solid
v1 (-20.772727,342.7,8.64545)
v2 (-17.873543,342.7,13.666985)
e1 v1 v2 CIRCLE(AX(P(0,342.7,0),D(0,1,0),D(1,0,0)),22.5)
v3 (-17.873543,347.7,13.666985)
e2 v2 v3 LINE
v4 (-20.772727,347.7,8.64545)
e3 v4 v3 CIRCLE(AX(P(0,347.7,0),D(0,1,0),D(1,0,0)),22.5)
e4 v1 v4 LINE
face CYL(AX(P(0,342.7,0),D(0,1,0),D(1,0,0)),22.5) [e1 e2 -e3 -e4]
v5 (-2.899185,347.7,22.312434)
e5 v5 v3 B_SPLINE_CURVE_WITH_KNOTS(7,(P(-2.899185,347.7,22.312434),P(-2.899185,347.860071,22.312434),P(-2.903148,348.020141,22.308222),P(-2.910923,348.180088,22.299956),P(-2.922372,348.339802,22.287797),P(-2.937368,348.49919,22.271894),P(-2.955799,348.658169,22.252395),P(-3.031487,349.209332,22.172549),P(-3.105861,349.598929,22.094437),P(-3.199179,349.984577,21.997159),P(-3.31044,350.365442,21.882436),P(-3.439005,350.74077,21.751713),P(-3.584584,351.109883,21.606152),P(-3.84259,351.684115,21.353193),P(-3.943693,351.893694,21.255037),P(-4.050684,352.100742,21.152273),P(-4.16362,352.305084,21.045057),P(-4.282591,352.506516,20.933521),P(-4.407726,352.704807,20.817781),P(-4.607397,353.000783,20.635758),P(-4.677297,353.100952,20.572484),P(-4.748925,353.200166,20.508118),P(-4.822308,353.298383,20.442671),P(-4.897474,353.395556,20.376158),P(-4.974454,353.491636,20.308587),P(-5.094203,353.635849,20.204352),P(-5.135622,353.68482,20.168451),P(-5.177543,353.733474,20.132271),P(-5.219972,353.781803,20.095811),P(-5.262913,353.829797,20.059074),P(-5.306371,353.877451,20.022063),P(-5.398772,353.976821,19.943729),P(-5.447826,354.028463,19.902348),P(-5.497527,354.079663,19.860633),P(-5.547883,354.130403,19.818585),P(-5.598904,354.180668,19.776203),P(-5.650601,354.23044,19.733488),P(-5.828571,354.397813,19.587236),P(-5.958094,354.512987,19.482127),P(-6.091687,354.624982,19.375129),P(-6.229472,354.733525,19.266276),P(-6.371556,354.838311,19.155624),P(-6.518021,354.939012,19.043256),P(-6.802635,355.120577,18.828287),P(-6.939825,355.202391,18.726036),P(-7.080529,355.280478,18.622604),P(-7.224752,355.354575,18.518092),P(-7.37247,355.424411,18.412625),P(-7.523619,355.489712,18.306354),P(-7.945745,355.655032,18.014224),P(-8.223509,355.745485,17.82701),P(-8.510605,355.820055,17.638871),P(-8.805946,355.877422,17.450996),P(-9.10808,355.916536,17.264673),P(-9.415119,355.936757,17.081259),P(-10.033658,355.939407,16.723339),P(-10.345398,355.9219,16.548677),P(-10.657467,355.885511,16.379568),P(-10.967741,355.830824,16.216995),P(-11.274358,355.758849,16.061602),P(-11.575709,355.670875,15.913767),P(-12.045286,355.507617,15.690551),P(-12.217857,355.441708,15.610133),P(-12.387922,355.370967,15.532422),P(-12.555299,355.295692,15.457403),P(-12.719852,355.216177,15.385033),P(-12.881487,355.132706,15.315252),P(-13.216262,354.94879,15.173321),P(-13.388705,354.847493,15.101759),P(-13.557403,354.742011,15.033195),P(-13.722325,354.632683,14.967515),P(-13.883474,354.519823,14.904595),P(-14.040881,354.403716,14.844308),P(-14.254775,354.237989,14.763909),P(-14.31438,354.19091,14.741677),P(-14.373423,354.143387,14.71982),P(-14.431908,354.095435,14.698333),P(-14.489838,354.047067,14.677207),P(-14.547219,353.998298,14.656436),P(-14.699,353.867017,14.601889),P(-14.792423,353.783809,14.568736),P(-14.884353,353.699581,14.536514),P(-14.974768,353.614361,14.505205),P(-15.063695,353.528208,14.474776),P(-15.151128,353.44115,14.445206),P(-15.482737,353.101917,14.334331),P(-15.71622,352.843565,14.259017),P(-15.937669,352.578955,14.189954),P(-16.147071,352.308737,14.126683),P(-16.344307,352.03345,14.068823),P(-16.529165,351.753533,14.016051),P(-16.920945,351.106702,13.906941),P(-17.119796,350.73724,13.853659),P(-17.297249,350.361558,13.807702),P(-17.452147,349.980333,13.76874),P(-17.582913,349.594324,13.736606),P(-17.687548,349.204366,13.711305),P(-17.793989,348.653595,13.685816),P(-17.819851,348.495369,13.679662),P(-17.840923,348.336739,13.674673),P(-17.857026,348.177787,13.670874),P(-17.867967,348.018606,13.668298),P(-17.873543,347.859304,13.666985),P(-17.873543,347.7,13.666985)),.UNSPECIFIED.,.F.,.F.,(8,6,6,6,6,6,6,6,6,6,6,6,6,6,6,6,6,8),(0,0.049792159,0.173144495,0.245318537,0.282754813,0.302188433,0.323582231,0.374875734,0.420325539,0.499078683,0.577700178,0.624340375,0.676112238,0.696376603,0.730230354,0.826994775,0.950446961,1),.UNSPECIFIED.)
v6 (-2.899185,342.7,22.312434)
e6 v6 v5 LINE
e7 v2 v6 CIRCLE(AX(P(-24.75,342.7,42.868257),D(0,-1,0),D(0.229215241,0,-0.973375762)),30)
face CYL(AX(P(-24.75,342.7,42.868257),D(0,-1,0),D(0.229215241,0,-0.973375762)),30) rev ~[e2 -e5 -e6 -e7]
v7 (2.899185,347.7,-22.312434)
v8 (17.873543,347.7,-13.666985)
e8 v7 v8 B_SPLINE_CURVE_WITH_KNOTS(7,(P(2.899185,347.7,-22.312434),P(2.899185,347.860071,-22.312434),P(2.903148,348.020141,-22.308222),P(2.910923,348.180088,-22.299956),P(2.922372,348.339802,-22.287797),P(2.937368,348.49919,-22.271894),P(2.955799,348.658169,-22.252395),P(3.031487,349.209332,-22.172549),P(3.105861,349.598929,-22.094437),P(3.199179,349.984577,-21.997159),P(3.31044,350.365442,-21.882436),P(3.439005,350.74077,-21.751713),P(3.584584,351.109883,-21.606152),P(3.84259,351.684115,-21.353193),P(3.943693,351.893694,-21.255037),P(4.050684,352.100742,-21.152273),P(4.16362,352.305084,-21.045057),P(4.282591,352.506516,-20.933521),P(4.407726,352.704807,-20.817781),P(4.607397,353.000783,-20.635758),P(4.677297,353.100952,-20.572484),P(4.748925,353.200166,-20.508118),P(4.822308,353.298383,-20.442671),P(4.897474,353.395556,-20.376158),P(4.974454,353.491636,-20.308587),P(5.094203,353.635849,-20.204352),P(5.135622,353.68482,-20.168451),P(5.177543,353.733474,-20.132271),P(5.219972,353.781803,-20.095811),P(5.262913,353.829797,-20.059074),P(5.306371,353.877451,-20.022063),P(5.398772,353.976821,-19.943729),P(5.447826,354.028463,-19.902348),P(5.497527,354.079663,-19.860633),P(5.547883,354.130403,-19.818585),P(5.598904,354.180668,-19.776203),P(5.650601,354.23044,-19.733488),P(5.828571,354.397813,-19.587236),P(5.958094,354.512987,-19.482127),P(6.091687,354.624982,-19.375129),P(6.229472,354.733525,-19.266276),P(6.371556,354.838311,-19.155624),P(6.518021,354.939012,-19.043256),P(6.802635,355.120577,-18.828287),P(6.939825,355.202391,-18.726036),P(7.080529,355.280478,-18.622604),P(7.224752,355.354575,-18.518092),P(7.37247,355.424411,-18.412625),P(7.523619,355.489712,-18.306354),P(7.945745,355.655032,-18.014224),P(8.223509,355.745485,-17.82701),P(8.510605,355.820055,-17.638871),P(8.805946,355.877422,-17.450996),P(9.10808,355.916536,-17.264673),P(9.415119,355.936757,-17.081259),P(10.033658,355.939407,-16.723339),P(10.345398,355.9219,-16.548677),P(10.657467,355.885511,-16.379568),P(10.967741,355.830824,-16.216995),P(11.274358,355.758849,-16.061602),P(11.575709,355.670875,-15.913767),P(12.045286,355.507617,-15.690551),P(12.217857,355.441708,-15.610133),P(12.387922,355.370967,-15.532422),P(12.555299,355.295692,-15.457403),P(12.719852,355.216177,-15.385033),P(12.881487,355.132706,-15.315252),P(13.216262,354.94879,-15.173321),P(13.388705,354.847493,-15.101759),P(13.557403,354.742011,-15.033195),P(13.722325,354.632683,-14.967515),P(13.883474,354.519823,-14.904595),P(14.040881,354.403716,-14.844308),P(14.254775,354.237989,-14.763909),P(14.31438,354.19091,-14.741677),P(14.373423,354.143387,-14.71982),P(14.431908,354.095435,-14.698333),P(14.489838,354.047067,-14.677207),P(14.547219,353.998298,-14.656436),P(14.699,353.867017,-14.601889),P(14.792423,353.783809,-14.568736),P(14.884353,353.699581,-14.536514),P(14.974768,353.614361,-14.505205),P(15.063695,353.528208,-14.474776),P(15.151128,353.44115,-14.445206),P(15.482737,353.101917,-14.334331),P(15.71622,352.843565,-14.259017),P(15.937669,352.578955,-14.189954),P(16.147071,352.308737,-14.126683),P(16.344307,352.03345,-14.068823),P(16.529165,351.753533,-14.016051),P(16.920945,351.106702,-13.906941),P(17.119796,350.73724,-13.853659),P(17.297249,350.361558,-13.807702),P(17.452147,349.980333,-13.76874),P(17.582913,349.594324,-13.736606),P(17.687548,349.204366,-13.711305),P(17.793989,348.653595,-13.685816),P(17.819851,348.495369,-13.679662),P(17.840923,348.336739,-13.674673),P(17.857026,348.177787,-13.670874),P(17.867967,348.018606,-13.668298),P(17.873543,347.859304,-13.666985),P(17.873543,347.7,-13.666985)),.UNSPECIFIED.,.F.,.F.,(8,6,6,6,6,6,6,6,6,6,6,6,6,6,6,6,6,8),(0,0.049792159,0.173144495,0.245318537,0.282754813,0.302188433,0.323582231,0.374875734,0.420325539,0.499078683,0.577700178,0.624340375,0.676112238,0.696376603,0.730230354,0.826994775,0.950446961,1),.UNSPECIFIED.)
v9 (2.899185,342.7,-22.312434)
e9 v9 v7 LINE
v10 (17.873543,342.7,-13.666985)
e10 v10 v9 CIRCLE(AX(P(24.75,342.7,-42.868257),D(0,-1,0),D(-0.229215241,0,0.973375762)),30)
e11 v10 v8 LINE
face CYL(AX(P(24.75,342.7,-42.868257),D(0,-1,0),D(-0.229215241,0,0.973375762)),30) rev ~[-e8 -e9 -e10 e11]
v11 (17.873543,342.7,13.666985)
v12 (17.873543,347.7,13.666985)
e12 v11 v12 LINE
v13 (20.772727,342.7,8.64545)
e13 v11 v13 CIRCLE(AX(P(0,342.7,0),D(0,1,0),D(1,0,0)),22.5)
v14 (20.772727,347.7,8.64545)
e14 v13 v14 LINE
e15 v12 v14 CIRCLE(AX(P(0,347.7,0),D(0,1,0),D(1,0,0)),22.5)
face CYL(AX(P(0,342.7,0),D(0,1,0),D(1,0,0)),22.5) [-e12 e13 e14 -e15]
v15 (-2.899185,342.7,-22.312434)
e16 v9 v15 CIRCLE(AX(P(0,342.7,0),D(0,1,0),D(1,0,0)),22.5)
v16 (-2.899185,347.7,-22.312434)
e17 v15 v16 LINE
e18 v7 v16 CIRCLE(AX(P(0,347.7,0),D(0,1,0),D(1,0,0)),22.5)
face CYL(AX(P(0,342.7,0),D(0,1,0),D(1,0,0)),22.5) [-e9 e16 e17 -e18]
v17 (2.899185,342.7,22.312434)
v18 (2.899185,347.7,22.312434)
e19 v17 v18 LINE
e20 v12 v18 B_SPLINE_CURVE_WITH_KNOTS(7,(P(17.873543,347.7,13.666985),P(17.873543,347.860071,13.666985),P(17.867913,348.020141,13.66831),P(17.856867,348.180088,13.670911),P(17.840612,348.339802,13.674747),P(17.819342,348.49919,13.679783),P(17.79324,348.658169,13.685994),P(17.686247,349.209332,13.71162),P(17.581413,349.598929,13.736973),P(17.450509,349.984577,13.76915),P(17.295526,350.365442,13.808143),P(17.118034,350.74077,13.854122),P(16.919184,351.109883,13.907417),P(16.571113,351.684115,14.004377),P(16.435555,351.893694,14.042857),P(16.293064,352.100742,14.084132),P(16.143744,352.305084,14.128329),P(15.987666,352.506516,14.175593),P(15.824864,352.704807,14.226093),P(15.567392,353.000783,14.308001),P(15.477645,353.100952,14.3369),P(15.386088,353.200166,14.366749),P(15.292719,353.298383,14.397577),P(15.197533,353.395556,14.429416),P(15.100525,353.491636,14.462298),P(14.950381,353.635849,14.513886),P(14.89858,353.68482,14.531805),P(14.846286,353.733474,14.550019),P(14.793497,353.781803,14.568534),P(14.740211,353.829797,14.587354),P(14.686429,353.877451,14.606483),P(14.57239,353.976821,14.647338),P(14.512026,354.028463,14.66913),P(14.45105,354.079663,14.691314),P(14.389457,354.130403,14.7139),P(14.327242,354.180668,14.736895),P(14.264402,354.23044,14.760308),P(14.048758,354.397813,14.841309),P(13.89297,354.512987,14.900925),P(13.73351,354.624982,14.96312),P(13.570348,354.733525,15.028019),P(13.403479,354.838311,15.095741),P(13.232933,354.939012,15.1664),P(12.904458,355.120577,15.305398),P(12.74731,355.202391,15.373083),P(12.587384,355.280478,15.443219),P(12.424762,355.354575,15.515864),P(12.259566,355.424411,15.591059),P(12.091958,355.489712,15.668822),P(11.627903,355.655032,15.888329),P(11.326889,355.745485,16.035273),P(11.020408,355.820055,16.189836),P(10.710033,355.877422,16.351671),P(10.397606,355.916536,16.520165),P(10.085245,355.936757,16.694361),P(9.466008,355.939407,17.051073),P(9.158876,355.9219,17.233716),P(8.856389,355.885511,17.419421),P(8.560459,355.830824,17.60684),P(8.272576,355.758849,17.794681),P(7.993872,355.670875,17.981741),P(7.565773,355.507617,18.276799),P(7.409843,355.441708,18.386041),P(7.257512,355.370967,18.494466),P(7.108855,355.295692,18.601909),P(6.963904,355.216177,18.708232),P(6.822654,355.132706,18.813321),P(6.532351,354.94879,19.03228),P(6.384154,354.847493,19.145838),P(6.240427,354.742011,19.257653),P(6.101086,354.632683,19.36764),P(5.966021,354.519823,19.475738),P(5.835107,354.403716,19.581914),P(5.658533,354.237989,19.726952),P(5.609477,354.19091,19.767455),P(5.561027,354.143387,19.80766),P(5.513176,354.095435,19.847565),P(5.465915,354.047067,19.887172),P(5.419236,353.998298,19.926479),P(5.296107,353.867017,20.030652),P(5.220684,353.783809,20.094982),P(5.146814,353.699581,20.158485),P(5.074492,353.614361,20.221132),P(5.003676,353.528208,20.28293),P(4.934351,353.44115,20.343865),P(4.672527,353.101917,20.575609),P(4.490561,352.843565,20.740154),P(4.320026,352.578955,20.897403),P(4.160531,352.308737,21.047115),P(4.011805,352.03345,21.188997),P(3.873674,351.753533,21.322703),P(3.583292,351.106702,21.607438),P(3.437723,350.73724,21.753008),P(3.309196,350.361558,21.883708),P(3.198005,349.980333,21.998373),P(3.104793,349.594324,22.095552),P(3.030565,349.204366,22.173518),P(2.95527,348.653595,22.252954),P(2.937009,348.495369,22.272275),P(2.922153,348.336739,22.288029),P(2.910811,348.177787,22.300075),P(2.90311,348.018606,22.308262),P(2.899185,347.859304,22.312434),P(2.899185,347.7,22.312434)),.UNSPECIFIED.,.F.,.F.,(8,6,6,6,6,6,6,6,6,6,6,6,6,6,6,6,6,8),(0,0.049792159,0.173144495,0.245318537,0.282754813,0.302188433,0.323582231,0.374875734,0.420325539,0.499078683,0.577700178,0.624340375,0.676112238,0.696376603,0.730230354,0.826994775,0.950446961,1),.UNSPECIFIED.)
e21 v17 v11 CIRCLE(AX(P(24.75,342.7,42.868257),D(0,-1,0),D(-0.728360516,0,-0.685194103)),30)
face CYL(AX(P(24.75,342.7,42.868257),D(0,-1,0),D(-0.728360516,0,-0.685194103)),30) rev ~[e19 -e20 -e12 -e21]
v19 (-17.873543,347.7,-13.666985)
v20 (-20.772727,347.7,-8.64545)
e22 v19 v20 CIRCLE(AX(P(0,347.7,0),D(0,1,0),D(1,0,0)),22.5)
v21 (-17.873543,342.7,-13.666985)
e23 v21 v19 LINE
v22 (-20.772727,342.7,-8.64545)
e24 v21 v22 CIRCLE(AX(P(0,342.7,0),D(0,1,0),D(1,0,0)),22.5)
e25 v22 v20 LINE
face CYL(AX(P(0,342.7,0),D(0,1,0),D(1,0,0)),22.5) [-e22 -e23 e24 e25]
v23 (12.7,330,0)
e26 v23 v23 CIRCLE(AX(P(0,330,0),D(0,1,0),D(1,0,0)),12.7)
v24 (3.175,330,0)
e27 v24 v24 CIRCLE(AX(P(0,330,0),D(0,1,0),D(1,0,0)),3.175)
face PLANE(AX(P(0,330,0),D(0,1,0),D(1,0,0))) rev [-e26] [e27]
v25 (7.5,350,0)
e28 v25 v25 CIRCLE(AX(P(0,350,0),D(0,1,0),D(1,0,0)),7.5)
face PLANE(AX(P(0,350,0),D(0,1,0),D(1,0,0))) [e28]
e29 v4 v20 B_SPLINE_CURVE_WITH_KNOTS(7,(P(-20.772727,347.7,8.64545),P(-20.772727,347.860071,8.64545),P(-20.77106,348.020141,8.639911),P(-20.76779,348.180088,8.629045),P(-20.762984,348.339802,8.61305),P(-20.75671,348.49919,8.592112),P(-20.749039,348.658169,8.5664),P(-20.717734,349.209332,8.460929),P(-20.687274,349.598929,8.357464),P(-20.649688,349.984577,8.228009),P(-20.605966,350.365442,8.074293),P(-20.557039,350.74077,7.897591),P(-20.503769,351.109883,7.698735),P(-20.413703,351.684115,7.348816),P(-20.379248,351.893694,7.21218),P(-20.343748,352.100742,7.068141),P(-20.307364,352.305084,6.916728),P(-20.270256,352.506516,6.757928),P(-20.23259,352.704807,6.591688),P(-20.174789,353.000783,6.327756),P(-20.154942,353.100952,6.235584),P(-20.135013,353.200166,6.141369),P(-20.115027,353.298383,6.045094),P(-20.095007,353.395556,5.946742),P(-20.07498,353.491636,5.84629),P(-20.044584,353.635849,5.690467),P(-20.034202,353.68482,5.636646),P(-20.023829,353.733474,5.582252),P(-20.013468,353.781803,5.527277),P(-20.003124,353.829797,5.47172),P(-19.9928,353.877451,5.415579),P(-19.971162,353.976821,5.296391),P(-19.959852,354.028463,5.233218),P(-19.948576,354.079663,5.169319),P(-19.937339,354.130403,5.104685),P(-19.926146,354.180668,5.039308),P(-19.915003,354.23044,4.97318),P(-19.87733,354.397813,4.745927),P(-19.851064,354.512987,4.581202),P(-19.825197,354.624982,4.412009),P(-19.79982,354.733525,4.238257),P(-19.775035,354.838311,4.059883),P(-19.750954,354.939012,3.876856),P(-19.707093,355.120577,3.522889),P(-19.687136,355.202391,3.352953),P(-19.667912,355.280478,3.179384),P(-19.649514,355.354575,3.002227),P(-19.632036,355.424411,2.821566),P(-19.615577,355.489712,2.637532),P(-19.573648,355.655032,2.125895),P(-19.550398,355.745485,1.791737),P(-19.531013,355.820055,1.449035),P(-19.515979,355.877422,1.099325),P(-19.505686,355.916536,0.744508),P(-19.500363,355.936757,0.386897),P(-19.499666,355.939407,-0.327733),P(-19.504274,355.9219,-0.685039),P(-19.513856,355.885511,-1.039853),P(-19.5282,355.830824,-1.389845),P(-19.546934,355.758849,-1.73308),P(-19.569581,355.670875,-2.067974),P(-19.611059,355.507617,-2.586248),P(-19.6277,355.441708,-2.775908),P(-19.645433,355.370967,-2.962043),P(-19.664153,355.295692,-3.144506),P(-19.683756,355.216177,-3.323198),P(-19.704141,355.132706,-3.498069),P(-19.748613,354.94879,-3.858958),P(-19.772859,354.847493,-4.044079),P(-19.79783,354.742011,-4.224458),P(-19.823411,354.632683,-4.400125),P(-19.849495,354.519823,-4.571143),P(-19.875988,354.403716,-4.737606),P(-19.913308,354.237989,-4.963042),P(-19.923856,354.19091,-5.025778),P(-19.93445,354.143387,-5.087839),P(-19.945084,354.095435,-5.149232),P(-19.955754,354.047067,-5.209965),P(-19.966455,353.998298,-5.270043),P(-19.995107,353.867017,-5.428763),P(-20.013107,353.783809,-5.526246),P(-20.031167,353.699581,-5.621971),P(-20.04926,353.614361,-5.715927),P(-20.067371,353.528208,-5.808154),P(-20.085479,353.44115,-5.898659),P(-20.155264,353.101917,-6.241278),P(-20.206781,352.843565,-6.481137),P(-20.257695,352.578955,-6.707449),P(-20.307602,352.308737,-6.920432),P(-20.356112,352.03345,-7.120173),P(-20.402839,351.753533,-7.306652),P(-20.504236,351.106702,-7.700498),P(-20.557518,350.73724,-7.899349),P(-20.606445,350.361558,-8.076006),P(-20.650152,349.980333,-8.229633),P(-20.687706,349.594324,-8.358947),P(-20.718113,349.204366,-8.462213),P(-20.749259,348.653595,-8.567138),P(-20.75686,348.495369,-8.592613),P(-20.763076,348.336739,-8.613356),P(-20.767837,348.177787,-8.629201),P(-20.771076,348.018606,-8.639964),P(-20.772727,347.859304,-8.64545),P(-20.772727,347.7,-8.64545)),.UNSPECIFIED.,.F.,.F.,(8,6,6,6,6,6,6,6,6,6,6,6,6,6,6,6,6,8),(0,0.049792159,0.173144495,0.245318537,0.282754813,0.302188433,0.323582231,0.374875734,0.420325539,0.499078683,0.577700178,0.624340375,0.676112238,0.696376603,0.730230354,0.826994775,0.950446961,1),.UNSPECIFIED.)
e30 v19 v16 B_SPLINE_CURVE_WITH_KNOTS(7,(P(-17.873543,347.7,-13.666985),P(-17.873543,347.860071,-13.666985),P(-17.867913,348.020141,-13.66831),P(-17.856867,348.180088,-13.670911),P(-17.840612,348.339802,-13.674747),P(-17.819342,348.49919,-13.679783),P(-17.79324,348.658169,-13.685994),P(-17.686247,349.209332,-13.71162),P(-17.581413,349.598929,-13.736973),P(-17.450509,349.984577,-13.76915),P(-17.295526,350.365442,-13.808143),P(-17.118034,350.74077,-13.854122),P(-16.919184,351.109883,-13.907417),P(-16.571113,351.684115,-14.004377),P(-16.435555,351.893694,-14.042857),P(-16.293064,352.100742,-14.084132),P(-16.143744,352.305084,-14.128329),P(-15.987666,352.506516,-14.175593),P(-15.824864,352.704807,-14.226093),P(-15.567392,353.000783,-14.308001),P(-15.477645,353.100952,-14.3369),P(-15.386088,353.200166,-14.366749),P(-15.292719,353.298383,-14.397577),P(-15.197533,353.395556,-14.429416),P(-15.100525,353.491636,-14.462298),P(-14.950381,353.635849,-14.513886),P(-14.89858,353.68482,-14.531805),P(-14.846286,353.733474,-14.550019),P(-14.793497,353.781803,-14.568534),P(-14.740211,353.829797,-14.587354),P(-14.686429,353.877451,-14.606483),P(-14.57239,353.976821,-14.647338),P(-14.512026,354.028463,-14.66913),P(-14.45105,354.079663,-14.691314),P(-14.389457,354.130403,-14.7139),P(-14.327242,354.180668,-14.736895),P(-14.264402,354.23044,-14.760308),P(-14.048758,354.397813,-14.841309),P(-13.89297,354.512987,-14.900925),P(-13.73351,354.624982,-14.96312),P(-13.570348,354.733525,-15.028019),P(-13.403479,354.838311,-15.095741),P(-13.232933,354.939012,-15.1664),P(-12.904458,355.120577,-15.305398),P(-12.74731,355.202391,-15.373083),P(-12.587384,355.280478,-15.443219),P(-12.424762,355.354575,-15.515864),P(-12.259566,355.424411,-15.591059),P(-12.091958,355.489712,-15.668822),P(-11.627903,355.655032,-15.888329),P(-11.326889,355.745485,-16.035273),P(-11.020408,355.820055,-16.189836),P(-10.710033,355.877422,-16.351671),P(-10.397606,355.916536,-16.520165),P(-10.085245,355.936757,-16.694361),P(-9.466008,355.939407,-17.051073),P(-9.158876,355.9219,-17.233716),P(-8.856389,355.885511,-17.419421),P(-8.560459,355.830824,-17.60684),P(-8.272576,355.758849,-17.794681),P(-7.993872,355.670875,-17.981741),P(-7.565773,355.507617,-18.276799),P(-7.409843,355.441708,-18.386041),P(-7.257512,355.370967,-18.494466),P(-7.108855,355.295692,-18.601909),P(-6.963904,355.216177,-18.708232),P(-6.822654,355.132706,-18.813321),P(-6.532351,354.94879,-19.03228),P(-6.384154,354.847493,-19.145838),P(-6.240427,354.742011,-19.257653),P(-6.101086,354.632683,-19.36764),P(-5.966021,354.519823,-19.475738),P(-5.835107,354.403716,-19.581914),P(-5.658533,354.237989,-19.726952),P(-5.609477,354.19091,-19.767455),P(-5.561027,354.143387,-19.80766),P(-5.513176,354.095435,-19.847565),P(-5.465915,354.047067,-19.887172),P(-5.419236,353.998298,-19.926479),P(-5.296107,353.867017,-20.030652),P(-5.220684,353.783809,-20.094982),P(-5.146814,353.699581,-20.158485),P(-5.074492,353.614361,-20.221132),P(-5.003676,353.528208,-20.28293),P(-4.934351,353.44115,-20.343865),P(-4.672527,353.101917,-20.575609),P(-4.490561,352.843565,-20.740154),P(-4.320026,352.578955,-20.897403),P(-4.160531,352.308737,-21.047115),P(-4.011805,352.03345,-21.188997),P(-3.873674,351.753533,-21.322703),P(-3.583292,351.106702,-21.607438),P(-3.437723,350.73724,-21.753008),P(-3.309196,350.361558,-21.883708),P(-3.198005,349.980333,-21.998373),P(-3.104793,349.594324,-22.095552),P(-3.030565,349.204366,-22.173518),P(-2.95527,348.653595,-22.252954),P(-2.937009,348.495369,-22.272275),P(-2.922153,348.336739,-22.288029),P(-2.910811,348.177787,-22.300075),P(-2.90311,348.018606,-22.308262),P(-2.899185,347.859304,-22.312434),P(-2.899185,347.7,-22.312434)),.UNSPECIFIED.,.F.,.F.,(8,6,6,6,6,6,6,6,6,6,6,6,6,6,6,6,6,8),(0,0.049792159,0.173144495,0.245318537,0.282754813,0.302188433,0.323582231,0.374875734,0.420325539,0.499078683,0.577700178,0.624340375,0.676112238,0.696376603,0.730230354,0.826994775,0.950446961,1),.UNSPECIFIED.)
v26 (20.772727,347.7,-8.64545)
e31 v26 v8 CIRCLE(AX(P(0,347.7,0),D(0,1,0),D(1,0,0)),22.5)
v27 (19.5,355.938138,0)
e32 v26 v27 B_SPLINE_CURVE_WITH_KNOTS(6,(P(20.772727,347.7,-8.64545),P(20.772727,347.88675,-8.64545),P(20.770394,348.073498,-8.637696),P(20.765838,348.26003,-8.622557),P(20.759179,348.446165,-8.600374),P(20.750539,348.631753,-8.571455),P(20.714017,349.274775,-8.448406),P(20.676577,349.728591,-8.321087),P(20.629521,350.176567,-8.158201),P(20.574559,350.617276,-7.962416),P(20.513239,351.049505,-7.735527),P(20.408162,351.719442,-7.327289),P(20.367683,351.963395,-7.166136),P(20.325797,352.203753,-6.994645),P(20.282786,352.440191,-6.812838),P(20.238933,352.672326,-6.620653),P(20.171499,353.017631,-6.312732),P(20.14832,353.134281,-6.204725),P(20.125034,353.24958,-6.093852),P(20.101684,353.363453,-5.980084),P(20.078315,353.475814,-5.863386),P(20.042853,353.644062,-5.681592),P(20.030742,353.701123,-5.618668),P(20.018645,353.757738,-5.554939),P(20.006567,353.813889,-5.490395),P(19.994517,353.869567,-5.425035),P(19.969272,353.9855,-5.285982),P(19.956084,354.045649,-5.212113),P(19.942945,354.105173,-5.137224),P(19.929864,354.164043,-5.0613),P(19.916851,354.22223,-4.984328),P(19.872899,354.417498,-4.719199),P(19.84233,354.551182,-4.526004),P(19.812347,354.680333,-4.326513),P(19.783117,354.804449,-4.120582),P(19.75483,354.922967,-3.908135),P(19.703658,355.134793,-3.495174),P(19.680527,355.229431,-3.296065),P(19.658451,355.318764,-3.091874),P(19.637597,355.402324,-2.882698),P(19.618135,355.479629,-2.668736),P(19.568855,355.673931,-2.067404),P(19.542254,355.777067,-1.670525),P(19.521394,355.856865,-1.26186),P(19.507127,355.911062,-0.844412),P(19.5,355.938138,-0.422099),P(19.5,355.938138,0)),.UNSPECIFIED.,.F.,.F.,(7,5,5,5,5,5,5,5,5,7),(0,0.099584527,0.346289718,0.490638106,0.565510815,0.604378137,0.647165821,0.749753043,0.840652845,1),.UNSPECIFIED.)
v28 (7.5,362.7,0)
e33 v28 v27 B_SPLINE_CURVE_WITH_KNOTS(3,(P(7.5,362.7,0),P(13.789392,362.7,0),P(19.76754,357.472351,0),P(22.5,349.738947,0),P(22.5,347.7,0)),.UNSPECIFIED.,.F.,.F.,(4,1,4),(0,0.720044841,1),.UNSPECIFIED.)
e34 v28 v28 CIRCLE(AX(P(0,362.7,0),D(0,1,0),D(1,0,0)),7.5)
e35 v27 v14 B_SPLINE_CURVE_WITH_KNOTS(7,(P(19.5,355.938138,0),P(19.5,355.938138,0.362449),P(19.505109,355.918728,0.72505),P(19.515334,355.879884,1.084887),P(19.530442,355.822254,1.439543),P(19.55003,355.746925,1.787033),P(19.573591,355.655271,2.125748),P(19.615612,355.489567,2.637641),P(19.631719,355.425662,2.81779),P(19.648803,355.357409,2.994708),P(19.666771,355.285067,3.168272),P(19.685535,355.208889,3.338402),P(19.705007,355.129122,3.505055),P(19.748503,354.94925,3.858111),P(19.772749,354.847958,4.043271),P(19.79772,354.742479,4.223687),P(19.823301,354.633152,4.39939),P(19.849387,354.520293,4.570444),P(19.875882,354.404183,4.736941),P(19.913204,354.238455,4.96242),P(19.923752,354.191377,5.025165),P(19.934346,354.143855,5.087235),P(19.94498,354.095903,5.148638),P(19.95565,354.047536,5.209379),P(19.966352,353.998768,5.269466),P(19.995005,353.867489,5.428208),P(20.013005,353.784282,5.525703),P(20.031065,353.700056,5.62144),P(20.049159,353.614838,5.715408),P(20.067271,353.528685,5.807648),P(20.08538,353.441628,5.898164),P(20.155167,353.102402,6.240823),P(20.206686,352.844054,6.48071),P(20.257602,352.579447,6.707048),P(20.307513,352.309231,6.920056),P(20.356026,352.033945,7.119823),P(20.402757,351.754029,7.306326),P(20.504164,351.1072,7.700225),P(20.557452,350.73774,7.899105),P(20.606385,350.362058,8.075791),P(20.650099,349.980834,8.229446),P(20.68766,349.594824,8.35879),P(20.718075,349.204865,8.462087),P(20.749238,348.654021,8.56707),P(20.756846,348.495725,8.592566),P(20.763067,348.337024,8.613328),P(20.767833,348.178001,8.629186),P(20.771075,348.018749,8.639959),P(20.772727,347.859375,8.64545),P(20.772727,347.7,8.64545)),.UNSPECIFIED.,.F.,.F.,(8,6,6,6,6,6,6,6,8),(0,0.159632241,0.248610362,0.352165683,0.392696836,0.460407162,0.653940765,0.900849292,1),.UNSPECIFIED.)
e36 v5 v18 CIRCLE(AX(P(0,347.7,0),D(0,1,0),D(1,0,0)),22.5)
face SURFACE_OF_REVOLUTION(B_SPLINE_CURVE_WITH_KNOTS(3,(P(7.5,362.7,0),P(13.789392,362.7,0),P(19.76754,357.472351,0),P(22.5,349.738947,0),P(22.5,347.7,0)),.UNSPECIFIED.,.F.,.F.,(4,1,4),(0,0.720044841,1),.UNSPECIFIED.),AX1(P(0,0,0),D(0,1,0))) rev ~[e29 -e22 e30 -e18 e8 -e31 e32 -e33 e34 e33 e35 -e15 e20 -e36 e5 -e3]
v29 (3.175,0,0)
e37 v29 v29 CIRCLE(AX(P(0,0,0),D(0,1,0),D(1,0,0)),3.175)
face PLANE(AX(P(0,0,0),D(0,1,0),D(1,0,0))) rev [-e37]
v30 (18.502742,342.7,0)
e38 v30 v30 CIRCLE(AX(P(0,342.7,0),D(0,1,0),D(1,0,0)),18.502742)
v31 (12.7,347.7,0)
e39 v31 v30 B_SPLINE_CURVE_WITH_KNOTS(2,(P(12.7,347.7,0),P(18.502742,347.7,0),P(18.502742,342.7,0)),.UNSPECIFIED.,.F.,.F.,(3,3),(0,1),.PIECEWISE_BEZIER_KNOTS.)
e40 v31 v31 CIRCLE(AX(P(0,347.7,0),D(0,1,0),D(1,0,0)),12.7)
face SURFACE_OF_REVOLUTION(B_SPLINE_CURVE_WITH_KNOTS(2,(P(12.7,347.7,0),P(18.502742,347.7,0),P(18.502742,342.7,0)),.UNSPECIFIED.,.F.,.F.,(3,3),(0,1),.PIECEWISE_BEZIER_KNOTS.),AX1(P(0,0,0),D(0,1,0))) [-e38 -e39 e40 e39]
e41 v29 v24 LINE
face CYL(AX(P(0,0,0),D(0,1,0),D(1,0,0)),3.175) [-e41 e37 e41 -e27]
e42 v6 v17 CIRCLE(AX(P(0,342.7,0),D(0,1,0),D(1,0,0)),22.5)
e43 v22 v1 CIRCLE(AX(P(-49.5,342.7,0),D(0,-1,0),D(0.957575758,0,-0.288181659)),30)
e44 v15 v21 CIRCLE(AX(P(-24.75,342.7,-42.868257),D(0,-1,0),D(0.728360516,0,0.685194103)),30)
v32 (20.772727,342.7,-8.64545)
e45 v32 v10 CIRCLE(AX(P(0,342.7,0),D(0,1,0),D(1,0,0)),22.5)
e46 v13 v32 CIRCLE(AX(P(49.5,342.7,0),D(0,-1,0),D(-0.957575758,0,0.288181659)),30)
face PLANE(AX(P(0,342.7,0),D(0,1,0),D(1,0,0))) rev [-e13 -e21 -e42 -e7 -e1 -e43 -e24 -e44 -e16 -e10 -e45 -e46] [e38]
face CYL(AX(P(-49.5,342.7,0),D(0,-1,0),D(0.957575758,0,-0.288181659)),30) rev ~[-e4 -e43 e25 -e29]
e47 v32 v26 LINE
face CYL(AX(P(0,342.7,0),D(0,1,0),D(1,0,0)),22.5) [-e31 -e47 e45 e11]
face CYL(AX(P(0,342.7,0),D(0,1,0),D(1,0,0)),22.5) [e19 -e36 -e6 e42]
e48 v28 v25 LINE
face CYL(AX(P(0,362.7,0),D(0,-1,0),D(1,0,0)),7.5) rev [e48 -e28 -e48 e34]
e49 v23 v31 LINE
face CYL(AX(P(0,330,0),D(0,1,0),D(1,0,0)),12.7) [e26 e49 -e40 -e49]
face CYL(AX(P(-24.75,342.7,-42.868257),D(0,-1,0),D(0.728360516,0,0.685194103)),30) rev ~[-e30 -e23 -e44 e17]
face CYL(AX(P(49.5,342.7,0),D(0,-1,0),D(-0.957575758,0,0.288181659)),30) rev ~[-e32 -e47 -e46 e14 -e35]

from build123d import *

# Parameters (mm, degrees)
CORTAR_EXTRUIR1_DEPTH = 345.174069344


with BuildPart() as part:
    # Croquis2 → Revolución1 (revolve)
    with BuildSketch(Plane.XY):
        with BuildLine():
            Line((3.175, 330), (12.7, 330))
            Line((12.7, 330), (12.7, 347.7))
            add(Edge.make_bspline(
                [(12.7, 347.7), (18.502741551, 347.7), (18.502741551, 342.7)],
                knots=[0, 0, 0, 1, 1, 1], degree=2))
            Line((18.502741551, 342.7), (22.5, 342.7))
            Line((22.5, 342.7), (22.5, 347.7))
            add(Edge.make_bspline(
                [(7.5, 362.7), (13.78939178, 362.7), (19.76753999, 357.472351461), (22.5, 349.738947382), (22.5, 347.7)],
                knots=[0, 0, 0, 0, 0.720044841, 1, 1, 1, 1], degree=3))
            Line((7.5, 362.7), (7.5, 350))
            Line((7.5, 350), (0, 350))
            Line((0, 350), (0, 0))
            Line((0, 0), (3.175, 0))
            Line((3.175, 0), (3.175, 330))
        make_face()
    revolve(axis=Axis((0, 0, 0), (0, 1, 0)))

    # Croquis3 → Cortar-Extruir1 (cut, through all)
    with BuildSketch(Plane.XZ.offset(-342.7)):
        with BuildLine():
            ThreePointArc((20.772727273, 8.645449766), (19.5, 0), (20.772727273, -8.645449766))
            ThreePointArc((20.772727273, -8.645449766), (22.5, 0), (20.772727273, 8.645449766))
        make_face()
        with BuildLine():
            ThreePointArc((17.873542761, -13.666984641), (9.75, -16.887495374), (2.899184512, -22.312434407))
            ThreePointArc((2.899184512, -22.312434407), (11.25, -19.485571585), (17.873542761, -13.666984641))
        make_face()
        with BuildLine():
            ThreePointArc((-2.899184512, -22.312434407), (-9.75, -16.887495374), (-17.873542761, -13.666984641))
            ThreePointArc((-17.873542761, -13.666984641), (-11.25, -19.485571585), (-2.899184512, -22.312434407))
        make_face()
        with BuildLine():
            ThreePointArc((-20.772727273, -8.645449766), (-19.5, 0), (-20.772727273, 8.645449766))
            ThreePointArc((-20.772727273, 8.645449766), (-22.5, 0), (-20.772727273, -8.645449766))
        make_face()
        with BuildLine():
            ThreePointArc((-17.873542761, 13.666984641), (-9.75, 16.887495374), (-2.899184512, 22.312434407))
            ThreePointArc((-2.899184512, 22.312434407), (-11.25, 19.485571585), (-17.873542761, 13.666984641))
        make_face()
        with BuildLine():
            ThreePointArc((2.899184512, 22.312434407), (9.75, 16.887495374), (17.873542761, 13.666984641))
            ThreePointArc((17.873542761, 13.666984641), (11.25, 19.485571585), (2.899184512, 22.312434407))
        make_face()
    extrude(amount=-CORTAR_EXTRUIR1_DEPTH, mode=Mode.SUBTRACT)


solid = part.part
